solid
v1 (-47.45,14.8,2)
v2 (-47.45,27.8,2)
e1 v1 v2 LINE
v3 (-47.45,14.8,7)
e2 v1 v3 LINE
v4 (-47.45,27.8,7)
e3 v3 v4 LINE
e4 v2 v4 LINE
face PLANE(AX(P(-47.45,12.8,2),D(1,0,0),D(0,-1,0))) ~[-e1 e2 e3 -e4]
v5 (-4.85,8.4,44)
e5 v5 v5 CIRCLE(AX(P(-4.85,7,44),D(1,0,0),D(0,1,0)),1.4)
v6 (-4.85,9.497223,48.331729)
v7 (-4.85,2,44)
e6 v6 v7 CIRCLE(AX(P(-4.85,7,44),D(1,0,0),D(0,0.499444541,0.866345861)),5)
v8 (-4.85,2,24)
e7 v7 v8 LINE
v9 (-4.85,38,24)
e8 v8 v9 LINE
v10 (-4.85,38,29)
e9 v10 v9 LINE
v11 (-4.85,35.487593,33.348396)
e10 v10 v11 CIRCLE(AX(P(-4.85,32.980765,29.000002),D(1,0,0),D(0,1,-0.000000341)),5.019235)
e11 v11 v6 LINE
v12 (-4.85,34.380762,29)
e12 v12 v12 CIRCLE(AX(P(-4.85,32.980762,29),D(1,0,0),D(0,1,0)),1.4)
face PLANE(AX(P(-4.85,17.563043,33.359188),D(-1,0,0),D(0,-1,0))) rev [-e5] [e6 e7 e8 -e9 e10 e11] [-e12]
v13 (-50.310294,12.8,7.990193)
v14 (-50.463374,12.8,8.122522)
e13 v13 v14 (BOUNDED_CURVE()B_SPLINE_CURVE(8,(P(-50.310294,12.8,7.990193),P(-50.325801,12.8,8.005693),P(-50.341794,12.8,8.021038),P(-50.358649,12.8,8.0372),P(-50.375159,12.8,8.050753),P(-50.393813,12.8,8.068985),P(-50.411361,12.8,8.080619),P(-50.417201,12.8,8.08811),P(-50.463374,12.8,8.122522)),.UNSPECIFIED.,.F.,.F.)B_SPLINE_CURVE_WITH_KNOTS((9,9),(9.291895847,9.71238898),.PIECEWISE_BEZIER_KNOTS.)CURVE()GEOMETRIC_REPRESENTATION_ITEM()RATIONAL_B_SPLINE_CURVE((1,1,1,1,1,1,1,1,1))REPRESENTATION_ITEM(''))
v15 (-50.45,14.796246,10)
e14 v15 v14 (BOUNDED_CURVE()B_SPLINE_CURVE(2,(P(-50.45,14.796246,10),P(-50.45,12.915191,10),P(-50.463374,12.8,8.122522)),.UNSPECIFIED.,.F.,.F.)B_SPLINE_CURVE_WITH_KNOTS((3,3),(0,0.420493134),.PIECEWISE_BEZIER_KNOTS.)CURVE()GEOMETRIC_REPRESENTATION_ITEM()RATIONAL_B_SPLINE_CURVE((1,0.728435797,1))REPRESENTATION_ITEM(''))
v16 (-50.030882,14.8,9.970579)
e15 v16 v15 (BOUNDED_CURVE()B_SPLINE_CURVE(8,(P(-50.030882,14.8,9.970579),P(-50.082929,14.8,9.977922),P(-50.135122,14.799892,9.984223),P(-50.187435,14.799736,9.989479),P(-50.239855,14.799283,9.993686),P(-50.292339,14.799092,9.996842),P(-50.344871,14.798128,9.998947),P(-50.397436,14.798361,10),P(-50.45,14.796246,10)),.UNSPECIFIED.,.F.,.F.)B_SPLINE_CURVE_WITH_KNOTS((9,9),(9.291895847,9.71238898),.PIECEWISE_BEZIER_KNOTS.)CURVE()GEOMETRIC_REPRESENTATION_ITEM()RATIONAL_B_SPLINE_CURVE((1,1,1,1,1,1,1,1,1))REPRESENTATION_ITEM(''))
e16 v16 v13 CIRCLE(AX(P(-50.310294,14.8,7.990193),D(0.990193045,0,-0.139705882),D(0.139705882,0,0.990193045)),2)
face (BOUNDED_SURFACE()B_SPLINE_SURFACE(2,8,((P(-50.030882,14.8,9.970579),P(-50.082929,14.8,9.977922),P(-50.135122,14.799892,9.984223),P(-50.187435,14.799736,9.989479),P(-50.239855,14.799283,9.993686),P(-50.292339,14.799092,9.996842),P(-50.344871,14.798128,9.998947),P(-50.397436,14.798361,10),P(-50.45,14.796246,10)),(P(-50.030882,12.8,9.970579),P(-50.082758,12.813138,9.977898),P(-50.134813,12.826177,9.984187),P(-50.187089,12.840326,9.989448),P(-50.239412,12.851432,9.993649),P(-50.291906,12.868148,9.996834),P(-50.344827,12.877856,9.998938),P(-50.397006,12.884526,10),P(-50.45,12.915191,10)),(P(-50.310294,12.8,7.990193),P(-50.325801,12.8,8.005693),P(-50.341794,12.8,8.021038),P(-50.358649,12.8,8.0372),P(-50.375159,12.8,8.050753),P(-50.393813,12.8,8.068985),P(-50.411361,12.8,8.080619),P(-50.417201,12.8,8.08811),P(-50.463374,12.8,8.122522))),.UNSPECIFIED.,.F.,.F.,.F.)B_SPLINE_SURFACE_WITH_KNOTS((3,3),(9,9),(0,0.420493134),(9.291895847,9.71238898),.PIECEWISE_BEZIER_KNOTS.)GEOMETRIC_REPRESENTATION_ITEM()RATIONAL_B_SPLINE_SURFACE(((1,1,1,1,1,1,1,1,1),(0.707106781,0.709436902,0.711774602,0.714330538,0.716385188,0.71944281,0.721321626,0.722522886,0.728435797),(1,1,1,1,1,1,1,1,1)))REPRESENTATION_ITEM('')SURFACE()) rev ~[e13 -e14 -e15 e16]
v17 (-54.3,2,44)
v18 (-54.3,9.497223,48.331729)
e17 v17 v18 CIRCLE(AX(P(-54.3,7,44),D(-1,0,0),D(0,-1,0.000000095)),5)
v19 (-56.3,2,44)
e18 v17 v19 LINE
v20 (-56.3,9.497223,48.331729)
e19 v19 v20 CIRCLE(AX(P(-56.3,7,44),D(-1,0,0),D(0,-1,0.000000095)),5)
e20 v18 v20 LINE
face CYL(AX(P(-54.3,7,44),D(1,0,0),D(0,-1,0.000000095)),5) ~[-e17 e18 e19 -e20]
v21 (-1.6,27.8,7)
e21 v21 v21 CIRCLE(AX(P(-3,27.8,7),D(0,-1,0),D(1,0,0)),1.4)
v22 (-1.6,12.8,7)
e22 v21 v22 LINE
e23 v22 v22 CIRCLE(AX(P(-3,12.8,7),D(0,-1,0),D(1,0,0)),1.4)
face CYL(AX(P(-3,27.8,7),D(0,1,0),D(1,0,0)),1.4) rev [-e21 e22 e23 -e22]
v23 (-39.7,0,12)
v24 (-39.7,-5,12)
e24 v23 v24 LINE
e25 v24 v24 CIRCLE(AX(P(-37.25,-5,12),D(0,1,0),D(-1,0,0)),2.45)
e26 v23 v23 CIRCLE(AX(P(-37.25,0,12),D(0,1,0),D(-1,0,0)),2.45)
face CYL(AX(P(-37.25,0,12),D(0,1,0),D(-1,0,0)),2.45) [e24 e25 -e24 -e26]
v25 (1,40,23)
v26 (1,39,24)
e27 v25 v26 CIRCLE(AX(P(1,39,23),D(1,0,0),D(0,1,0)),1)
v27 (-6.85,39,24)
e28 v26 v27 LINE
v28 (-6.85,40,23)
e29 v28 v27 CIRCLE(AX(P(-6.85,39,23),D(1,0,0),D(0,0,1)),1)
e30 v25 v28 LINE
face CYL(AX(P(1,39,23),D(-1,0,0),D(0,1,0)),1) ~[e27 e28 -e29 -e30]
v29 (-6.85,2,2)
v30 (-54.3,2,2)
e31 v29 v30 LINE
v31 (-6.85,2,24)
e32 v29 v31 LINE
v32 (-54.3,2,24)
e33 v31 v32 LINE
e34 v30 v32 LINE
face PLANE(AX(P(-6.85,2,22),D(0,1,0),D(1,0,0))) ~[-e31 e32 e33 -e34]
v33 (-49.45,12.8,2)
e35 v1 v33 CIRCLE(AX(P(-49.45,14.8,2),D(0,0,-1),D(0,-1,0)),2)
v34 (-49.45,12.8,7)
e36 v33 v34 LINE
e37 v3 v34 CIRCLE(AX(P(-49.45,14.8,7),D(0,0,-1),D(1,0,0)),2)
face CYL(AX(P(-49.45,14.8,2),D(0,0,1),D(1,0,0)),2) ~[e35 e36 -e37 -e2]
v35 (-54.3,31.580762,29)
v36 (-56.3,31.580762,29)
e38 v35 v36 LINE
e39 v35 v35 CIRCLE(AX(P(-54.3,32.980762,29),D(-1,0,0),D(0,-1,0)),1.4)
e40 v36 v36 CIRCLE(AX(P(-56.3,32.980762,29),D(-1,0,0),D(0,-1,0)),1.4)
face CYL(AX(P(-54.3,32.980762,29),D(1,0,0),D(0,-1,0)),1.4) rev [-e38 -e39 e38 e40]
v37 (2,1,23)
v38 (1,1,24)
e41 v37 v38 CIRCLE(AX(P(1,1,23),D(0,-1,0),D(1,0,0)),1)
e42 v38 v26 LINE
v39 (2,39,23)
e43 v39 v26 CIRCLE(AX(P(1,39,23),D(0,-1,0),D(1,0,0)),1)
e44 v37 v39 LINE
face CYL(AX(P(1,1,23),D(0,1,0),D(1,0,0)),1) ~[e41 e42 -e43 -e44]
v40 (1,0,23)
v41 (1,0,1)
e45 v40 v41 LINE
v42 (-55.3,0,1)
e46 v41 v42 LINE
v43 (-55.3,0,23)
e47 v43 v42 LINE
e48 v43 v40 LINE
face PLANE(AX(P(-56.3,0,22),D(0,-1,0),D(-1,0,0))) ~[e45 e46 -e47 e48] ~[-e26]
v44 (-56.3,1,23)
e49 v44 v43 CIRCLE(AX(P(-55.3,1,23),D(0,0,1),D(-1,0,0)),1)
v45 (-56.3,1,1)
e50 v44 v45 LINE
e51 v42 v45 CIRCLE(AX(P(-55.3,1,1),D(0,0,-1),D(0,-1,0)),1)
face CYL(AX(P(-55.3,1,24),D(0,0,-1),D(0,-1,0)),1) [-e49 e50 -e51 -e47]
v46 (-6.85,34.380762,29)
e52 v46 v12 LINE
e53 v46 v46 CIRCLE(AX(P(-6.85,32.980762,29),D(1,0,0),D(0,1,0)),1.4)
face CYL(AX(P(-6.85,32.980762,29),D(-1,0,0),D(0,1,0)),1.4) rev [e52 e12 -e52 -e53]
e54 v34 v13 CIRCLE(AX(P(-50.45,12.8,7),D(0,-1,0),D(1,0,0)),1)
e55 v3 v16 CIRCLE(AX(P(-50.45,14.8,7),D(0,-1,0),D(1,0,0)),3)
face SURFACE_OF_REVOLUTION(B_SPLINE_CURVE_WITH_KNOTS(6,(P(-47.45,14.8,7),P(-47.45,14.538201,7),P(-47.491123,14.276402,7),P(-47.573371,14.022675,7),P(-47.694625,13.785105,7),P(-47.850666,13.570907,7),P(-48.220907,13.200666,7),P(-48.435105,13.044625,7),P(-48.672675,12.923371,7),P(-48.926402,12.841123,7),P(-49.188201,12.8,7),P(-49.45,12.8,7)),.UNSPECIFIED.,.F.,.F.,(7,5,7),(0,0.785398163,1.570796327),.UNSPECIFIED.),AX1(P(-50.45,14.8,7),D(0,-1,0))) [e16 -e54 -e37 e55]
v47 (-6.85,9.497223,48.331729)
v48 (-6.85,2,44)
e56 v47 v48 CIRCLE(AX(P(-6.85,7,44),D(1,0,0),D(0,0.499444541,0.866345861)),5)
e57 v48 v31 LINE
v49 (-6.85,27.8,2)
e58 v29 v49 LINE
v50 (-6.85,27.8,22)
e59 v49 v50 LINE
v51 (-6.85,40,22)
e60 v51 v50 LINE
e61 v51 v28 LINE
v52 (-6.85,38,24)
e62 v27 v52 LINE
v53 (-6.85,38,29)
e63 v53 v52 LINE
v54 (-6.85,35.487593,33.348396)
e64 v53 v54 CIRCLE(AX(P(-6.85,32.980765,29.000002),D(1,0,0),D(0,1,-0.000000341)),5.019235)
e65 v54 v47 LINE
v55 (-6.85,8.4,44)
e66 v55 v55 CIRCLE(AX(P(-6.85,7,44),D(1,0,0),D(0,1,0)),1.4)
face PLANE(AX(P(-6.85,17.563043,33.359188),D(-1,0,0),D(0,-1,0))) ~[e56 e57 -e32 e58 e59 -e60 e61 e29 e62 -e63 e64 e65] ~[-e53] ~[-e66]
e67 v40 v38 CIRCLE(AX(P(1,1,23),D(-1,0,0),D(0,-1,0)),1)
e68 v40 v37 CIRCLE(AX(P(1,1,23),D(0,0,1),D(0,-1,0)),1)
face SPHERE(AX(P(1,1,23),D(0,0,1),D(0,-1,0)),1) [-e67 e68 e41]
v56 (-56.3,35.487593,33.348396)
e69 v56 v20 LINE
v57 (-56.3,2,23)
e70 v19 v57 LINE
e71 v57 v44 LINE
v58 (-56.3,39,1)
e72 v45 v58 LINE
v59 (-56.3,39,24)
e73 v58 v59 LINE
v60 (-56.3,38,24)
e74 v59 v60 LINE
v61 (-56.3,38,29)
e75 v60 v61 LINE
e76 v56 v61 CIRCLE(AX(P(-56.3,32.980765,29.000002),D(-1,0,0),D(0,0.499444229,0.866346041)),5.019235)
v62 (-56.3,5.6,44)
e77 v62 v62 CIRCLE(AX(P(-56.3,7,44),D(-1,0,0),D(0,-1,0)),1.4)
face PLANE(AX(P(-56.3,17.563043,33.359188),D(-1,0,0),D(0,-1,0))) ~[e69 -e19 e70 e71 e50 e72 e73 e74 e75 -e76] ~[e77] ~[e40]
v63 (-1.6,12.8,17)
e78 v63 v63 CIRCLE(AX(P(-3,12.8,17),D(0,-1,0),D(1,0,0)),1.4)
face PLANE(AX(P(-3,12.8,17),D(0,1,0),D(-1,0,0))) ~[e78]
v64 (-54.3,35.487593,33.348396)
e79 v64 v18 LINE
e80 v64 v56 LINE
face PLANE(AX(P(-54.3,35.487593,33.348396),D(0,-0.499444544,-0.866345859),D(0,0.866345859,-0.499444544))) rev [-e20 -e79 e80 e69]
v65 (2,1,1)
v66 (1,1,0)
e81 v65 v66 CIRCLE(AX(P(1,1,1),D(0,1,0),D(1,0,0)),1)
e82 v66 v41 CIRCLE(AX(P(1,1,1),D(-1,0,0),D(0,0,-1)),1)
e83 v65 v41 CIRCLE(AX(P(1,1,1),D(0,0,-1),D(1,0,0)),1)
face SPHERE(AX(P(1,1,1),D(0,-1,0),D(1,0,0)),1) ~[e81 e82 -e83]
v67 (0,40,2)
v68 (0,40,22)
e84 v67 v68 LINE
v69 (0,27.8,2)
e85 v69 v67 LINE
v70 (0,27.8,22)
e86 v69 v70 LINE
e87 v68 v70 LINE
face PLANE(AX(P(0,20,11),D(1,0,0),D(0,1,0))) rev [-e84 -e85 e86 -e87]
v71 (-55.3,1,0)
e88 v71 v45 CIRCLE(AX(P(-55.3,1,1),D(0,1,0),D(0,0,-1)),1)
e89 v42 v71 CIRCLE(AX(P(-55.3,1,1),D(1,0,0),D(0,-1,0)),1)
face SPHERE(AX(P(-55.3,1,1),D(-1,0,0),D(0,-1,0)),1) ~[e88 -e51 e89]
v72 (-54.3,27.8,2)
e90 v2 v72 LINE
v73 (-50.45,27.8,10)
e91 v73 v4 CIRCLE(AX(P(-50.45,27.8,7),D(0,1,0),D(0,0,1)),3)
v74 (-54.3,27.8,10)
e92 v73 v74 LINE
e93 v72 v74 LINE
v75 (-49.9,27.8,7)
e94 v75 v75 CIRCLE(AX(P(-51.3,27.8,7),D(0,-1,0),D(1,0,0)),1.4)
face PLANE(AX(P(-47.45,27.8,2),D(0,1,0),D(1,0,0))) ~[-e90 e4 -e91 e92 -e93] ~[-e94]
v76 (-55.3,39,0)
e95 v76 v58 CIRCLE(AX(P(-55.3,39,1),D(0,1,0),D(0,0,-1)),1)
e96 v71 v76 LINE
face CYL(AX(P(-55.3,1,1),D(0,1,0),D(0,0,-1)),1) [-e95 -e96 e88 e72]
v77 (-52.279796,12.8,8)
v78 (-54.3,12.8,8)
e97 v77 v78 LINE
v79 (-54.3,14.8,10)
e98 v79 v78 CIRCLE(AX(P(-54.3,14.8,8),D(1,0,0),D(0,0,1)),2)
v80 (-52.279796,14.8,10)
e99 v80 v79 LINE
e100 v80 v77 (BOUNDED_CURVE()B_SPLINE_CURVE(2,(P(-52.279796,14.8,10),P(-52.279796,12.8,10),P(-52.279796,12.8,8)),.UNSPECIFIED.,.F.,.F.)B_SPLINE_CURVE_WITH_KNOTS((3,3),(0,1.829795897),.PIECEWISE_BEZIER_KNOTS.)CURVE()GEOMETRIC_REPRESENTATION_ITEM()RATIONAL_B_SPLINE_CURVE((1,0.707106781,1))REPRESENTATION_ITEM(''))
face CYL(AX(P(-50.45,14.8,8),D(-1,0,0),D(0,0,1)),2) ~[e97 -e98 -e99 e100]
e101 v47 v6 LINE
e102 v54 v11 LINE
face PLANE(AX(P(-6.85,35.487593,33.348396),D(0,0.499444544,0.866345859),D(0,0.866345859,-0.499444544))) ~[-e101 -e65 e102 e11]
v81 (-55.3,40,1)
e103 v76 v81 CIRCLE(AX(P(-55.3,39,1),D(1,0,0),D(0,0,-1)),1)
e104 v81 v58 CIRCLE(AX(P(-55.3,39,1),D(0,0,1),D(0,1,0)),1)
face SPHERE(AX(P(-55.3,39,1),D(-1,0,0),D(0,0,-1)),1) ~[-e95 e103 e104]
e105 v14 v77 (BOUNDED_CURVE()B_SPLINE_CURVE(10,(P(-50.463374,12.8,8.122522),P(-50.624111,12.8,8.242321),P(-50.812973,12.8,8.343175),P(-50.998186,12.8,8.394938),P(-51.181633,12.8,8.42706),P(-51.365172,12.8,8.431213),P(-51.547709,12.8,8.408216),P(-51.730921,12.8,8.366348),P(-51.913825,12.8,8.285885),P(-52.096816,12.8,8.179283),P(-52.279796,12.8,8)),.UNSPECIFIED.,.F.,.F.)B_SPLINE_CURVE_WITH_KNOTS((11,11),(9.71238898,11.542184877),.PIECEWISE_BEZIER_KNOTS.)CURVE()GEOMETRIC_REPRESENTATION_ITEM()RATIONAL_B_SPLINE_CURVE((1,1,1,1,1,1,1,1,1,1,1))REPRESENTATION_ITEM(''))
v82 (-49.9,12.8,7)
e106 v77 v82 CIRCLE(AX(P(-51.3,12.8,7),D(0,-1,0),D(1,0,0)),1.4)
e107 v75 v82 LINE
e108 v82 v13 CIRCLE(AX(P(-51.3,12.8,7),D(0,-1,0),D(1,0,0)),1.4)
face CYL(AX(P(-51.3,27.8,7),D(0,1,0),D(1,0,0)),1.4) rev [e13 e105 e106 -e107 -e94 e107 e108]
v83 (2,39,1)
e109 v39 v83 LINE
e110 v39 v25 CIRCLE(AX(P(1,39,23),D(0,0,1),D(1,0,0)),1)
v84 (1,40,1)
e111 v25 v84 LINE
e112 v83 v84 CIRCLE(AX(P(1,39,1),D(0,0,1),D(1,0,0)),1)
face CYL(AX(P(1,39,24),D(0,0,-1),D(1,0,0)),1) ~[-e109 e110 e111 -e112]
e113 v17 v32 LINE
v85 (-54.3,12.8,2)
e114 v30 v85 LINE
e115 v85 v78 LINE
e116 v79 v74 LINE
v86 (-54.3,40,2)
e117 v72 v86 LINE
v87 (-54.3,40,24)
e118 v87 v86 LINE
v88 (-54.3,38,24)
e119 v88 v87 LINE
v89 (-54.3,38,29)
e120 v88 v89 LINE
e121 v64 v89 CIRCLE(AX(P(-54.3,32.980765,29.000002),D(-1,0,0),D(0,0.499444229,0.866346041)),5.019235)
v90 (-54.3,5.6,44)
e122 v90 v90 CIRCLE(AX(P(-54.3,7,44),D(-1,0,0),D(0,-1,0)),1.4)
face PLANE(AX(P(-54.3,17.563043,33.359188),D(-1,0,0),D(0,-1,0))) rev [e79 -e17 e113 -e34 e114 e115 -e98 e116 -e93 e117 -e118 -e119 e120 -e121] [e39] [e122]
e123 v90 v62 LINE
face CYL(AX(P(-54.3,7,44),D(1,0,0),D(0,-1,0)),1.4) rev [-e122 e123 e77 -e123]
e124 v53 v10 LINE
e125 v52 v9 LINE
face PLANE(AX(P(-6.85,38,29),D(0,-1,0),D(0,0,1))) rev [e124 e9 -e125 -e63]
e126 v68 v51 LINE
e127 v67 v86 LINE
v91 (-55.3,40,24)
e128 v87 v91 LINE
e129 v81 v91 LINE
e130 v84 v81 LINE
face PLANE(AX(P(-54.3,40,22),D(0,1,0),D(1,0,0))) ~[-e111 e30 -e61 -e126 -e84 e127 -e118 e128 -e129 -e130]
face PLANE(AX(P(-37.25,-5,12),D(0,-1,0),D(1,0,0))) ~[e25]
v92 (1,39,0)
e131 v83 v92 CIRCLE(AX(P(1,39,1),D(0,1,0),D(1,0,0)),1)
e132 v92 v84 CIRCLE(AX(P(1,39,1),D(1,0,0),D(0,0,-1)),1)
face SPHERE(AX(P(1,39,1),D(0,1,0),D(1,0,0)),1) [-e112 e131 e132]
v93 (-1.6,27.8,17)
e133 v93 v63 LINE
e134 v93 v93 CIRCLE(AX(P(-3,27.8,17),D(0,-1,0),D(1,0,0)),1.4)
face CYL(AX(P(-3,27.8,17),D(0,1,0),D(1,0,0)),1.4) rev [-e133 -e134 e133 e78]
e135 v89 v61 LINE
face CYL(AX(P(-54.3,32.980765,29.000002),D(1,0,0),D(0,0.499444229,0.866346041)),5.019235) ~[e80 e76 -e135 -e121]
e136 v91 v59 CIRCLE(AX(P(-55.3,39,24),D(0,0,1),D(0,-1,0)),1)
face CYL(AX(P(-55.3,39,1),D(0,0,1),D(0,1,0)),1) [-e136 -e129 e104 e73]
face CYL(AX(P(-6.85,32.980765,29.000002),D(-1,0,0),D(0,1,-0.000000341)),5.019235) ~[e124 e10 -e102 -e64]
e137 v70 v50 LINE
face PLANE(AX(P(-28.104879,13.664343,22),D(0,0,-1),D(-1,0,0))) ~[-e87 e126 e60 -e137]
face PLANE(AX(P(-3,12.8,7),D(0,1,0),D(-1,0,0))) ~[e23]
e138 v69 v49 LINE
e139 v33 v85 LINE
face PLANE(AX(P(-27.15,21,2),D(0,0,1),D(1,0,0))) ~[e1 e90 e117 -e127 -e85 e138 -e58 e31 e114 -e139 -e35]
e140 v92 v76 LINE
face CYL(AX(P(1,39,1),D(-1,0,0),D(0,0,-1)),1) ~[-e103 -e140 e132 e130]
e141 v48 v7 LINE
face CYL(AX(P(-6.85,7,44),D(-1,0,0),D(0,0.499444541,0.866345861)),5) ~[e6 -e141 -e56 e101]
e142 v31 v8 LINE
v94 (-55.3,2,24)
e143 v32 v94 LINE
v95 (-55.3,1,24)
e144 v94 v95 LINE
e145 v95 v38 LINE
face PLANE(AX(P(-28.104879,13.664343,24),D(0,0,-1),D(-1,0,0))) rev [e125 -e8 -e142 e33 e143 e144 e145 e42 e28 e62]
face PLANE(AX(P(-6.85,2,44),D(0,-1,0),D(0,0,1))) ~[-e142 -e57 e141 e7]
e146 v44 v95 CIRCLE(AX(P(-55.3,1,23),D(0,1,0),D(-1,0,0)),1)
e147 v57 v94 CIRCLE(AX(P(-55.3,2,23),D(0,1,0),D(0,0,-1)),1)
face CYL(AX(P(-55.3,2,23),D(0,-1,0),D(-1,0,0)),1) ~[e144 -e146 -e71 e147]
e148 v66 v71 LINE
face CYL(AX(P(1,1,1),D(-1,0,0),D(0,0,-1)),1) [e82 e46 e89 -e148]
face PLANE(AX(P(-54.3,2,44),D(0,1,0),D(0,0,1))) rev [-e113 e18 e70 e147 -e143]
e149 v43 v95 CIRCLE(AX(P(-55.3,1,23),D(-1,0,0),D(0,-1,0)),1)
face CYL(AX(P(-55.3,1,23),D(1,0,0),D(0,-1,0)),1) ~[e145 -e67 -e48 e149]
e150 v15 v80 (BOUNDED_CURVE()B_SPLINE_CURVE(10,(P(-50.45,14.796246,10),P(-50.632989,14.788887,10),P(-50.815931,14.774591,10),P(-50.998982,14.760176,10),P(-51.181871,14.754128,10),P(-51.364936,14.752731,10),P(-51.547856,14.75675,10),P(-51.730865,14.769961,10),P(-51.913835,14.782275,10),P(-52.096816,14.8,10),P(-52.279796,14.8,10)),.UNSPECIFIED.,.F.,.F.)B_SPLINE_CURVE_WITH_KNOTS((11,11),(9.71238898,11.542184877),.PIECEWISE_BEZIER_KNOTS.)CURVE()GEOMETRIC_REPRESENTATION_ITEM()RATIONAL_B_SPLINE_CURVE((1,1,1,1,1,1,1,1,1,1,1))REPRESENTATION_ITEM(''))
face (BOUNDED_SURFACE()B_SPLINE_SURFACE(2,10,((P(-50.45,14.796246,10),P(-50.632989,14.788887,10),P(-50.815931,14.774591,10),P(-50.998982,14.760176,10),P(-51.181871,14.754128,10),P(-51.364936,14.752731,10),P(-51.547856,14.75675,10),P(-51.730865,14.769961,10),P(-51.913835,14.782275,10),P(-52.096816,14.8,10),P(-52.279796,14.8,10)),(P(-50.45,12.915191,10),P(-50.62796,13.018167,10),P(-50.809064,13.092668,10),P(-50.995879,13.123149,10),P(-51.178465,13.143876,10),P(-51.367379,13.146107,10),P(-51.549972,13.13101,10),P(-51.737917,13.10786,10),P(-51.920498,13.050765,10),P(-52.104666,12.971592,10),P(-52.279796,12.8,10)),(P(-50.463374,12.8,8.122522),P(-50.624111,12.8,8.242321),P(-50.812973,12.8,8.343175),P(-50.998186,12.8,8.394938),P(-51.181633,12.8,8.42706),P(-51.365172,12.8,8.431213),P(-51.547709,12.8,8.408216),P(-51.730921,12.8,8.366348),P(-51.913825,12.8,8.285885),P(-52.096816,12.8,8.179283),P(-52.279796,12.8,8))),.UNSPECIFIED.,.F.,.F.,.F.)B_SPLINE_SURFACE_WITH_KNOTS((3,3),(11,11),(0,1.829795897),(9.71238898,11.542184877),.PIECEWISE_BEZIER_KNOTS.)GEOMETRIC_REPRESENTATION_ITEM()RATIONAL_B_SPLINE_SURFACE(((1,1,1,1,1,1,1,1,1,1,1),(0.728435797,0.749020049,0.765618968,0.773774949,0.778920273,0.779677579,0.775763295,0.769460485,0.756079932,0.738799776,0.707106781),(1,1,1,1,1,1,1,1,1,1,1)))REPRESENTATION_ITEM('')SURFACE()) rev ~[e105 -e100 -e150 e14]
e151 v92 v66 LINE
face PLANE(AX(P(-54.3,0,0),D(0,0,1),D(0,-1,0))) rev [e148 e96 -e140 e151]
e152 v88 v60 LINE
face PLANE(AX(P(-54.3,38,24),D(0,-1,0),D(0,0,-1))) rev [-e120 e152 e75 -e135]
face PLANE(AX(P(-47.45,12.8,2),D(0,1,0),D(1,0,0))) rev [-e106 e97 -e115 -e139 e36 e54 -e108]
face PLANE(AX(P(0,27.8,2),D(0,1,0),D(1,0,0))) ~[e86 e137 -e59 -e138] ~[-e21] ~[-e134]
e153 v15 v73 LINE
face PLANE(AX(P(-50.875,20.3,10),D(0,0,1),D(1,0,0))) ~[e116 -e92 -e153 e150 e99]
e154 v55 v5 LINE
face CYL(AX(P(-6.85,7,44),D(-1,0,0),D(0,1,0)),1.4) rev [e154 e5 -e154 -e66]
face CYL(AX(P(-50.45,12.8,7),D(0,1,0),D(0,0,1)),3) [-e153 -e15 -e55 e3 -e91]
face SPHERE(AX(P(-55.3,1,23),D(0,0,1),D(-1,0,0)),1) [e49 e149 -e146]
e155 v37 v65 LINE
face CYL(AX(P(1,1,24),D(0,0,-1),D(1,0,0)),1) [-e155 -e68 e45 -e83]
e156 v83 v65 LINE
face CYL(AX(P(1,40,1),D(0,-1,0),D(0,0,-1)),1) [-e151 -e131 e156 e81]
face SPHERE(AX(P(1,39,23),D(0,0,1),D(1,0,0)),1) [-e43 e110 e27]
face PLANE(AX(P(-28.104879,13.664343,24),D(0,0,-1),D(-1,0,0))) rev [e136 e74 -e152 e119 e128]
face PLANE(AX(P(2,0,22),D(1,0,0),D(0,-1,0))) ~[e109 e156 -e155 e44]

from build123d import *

# Parameters (mm, degrees)
SKETCH_W        = 54.3
SKETCH_H        = 38
PAD_DEPTH       = 2
SKETCH001_W     = 54.3
SKETCH001_H     = 2
PAD001_DEPTH    = 22
SKETCH002_R     = 2.45
PAD002_DEPTH    = 5
SKETCH003_W     = 40
SKETCH003_H     = 22
PAD003_DEPTH    = 2
SKETCH004_W     = 40
SKETCH004_H     = 22
PAD004_DEPTH    = 2
SKETCH005_W     = 6.85
SKETCH005_H     = 15
PAD005_DEPTH    = 8
SKETCH006_R     = 1.4
POCKET_DEPTH    = 15
FILLET_R        = 3
FILLET001_R     = 2
SKETCH007_W     = 6.85
SKETCH007_H     = 25.8
PAD006_DEPTH    = 20
SKETCH008_R     = 1.4
POCKET001_DEPTH = 15
PAD007_DEPTH    = 2
SKETCH010_R     = 1.4
PAD008_DEPTH    = 2
SKETCH011_R     = 1.4
PAD009_DEPTH    = 2
FILLET002_R     = 1
FILLET003_R     = 1
FILLET004_R     = 1
FILLET005_R     = 1
FILLET006_R     = 1


with BuildPart() as body:
    # Sketch → Pad (new body)
    with BuildSketch(Plane.XY):
        with Locations((27.15, 21)):
            Rectangle(SKETCH_W, SKETCH_H)
    extrude(amount=PAD_DEPTH)

    # Sketch001 → Pad001 (join)
    with BuildSketch(Plane.XY):
        with Locations((27.15, 1)):
            Rectangle(SKETCH001_W, SKETCH001_H)
    extrude(amount=PAD001_DEPTH)

    # Sketch002 → Pad002 (join)
    with BuildSketch(Plane.XZ):
        with Locations((37.25, 12)):
            Circle(SKETCH002_R)
    extrude(amount=PAD002_DEPTH)

    # Sketch003 (on Face2 of Pad002) → Pad003 (join)
    with BuildSketch(Plane(origin=(0, 0, 0), x_dir=(0, -1, 0), z_dir=(-1, 0, 0))):
        with Locations((-20, 11)):
            Rectangle(SKETCH003_W, SKETCH003_H)
    extrude(amount=PAD003_DEPTH)

    # Sketch004 (on Face3 of Pad003) → Pad004 (join)
    with BuildSketch(Plane.YZ.offset(54.3)):
        with Locations((20, 11)):
            Rectangle(SKETCH004_W, SKETCH004_H)
    extrude(amount=PAD004_DEPTH)

    # Sketch005 (on Face5 of Pad004) → Pad005 (join)
    with BuildSketch(Plane.XY.offset(2)):
        with Locations((50.875, 20.3)):
            Rectangle(SKETCH005_W, SKETCH005_H)
    extrude(amount=PAD005_DEPTH)

    # Sketch006 (on Face15 of Pad005) → Pocket (cut)
    with BuildSketch(Plane(origin=(0, 27.8, 0), x_dir=(-1, 0, 0), z_dir=(0, 1, 0))):
        with Locations((-51.3, 7)):
            Circle(SKETCH006_R)
    extrude(amount=-POCKET_DEPTH, mode=Mode.SUBTRACT)

    # Fillet
    fillet_edges = [body.edges().sort_by_distance(p)[0] for p in [
        (47.45, 20.3, 10),
    ]]
    fillet(fillet_edges, radius=FILLET_R)

    # Fillet001
    fillet001_edges = [body.edges().sort_by_distance(p)[0] for p in [
        (52.375, 12.8, 10),
    ]]
    fillet(fillet001_edges, radius=FILLET001_R)

    # Sketch007 (on Face5 of Fillet001) → Pad006 (join)
    with BuildSketch(Plane.XY.offset(2)):
        with Locations((3.425, 14.9)):
            Rectangle(SKETCH007_W, SKETCH007_H)
    extrude(amount=PAD006_DEPTH)

    # Sketch008 (on Face14 of Pad006) → Pocket001 (cut)
    with BuildSketch(Plane(origin=(0, 27.8, 0), x_dir=(-1, 0, 0), z_dir=(0, 1, 0))):
        with Locations((-3, 7)):
            Circle(SKETCH008_R)
        with Locations((-3, 17)):
            Circle(SKETCH008_R)
    extrude(amount=-POCKET001_DEPTH, mode=Mode.SUBTRACT)

    # Sketch009 (on Face21 of Pocket001) → Pad007 (join)
    with BuildSketch(Plane.XY.offset(22)):
        Polygon((54.3, 2), (54.3, 40), (56.3, 40), (56.3, 0), (-2, 0), (-2, 40), (6.85, 40), (6.85, 2), align=None)
    extrude(amount=PAD007_DEPTH)

    # Sketch010 (on Face22 of Pad007) → Pad008 (join)
    with BuildSketch(Plane.YZ.offset(6.85)):
        with BuildLine():
            Line((2, 24), (38, 24))
            Line((38, 29), (38, 24))
            ThreePointArc((38, 29), (37.326745, 31.511013), (35.487593, 33.348396))
            Line((35.487593, 33.348396), (9.497223, 48.331729))
            ThreePointArc((9.497223, 48.331729), (4.498612, 48.329325), (2, 44))
            Line((2, 44), (2, 24))
        make_face()
        with Locations((7, 44)):
            Circle(SKETCH010_R, mode=Mode.SUBTRACT)
        with Locations((32.980762, 29)):
            Circle(SKETCH010_R, mode=Mode.SUBTRACT)
    extrude(amount=-PAD008_DEPTH)

    # Sketch011 (on Face20 of Pad008) → Pad009 (join)
    with BuildSketch(Plane(origin=(54.3, 0, 0), x_dir=(0, -1, 0), z_dir=(-1, 0, 0))):
        with BuildLine():
            Line((-38, 24), (-38, 29))
            ThreePointArc((-35.487593, 33.348396), (-37.326745, 31.511013), (-38, 29))
            Line((-35.487593, 33.348396), (-9.497223, 48.331729))
            ThreePointArc((-2, 44), (-4.498612, 48.329325), (-9.497223, 48.331729))
            Line((-2, 44), (-2, 24))
            Line((-2, 24), (-38, 24))
        make_face()
        with Locations((-7, 44)):
            Circle(SKETCH011_R, mode=Mode.SUBTRACT)
        with Locations((-32.980762, 29)):
            Circle(SKETCH011_R, mode=Mode.SUBTRACT)
    extrude(amount=-PAD009_DEPTH)

    # Fillet002
    fillet002_edges = [body.edges().sort_by_distance(p)[0] for p in [
        (-2, 20, 0),
    ]]
    fillet(fillet002_edges, radius=FILLET002_R)

    # Fillet003
    fillet003_edges = [body.edges().sort_by_distance(p)[0] for p in [
        (27.15, 0, 0),
    ]]
    fillet(fillet003_edges, radius=FILLET003_R)

    # Fillet004
    fillet004_edges = [body.edges().sort_by_distance(p)[0] for p in [
        (27.15, 40, 0),
    ]]
    fillet(fillet004_edges, radius=FILLET004_R)

    # Fillet005
    fillet005_edges = [body.edges().sort_by_distance(p)[0] for p in [
        (56.3, 20, 0),
    ]]
    fillet(fillet005_edges, radius=FILLET005_R)

    # Fillet006
    fillet006_edges = [body.edges().sort_by_distance(p)[0] for p in [
        (27.15, 0, 24),
    ]]
    fillet(fillet006_edges, radius=FILLET006_R)


with BuildPart() as part_mirroring:
    # Part__Mirroring: instance of Body
    add(body.part.mirror(Plane(origin=(0, 0, 0), x_dir=(0, -1, 0), z_dir=(1, 0, 0))))


solid = part_mirroring.part
